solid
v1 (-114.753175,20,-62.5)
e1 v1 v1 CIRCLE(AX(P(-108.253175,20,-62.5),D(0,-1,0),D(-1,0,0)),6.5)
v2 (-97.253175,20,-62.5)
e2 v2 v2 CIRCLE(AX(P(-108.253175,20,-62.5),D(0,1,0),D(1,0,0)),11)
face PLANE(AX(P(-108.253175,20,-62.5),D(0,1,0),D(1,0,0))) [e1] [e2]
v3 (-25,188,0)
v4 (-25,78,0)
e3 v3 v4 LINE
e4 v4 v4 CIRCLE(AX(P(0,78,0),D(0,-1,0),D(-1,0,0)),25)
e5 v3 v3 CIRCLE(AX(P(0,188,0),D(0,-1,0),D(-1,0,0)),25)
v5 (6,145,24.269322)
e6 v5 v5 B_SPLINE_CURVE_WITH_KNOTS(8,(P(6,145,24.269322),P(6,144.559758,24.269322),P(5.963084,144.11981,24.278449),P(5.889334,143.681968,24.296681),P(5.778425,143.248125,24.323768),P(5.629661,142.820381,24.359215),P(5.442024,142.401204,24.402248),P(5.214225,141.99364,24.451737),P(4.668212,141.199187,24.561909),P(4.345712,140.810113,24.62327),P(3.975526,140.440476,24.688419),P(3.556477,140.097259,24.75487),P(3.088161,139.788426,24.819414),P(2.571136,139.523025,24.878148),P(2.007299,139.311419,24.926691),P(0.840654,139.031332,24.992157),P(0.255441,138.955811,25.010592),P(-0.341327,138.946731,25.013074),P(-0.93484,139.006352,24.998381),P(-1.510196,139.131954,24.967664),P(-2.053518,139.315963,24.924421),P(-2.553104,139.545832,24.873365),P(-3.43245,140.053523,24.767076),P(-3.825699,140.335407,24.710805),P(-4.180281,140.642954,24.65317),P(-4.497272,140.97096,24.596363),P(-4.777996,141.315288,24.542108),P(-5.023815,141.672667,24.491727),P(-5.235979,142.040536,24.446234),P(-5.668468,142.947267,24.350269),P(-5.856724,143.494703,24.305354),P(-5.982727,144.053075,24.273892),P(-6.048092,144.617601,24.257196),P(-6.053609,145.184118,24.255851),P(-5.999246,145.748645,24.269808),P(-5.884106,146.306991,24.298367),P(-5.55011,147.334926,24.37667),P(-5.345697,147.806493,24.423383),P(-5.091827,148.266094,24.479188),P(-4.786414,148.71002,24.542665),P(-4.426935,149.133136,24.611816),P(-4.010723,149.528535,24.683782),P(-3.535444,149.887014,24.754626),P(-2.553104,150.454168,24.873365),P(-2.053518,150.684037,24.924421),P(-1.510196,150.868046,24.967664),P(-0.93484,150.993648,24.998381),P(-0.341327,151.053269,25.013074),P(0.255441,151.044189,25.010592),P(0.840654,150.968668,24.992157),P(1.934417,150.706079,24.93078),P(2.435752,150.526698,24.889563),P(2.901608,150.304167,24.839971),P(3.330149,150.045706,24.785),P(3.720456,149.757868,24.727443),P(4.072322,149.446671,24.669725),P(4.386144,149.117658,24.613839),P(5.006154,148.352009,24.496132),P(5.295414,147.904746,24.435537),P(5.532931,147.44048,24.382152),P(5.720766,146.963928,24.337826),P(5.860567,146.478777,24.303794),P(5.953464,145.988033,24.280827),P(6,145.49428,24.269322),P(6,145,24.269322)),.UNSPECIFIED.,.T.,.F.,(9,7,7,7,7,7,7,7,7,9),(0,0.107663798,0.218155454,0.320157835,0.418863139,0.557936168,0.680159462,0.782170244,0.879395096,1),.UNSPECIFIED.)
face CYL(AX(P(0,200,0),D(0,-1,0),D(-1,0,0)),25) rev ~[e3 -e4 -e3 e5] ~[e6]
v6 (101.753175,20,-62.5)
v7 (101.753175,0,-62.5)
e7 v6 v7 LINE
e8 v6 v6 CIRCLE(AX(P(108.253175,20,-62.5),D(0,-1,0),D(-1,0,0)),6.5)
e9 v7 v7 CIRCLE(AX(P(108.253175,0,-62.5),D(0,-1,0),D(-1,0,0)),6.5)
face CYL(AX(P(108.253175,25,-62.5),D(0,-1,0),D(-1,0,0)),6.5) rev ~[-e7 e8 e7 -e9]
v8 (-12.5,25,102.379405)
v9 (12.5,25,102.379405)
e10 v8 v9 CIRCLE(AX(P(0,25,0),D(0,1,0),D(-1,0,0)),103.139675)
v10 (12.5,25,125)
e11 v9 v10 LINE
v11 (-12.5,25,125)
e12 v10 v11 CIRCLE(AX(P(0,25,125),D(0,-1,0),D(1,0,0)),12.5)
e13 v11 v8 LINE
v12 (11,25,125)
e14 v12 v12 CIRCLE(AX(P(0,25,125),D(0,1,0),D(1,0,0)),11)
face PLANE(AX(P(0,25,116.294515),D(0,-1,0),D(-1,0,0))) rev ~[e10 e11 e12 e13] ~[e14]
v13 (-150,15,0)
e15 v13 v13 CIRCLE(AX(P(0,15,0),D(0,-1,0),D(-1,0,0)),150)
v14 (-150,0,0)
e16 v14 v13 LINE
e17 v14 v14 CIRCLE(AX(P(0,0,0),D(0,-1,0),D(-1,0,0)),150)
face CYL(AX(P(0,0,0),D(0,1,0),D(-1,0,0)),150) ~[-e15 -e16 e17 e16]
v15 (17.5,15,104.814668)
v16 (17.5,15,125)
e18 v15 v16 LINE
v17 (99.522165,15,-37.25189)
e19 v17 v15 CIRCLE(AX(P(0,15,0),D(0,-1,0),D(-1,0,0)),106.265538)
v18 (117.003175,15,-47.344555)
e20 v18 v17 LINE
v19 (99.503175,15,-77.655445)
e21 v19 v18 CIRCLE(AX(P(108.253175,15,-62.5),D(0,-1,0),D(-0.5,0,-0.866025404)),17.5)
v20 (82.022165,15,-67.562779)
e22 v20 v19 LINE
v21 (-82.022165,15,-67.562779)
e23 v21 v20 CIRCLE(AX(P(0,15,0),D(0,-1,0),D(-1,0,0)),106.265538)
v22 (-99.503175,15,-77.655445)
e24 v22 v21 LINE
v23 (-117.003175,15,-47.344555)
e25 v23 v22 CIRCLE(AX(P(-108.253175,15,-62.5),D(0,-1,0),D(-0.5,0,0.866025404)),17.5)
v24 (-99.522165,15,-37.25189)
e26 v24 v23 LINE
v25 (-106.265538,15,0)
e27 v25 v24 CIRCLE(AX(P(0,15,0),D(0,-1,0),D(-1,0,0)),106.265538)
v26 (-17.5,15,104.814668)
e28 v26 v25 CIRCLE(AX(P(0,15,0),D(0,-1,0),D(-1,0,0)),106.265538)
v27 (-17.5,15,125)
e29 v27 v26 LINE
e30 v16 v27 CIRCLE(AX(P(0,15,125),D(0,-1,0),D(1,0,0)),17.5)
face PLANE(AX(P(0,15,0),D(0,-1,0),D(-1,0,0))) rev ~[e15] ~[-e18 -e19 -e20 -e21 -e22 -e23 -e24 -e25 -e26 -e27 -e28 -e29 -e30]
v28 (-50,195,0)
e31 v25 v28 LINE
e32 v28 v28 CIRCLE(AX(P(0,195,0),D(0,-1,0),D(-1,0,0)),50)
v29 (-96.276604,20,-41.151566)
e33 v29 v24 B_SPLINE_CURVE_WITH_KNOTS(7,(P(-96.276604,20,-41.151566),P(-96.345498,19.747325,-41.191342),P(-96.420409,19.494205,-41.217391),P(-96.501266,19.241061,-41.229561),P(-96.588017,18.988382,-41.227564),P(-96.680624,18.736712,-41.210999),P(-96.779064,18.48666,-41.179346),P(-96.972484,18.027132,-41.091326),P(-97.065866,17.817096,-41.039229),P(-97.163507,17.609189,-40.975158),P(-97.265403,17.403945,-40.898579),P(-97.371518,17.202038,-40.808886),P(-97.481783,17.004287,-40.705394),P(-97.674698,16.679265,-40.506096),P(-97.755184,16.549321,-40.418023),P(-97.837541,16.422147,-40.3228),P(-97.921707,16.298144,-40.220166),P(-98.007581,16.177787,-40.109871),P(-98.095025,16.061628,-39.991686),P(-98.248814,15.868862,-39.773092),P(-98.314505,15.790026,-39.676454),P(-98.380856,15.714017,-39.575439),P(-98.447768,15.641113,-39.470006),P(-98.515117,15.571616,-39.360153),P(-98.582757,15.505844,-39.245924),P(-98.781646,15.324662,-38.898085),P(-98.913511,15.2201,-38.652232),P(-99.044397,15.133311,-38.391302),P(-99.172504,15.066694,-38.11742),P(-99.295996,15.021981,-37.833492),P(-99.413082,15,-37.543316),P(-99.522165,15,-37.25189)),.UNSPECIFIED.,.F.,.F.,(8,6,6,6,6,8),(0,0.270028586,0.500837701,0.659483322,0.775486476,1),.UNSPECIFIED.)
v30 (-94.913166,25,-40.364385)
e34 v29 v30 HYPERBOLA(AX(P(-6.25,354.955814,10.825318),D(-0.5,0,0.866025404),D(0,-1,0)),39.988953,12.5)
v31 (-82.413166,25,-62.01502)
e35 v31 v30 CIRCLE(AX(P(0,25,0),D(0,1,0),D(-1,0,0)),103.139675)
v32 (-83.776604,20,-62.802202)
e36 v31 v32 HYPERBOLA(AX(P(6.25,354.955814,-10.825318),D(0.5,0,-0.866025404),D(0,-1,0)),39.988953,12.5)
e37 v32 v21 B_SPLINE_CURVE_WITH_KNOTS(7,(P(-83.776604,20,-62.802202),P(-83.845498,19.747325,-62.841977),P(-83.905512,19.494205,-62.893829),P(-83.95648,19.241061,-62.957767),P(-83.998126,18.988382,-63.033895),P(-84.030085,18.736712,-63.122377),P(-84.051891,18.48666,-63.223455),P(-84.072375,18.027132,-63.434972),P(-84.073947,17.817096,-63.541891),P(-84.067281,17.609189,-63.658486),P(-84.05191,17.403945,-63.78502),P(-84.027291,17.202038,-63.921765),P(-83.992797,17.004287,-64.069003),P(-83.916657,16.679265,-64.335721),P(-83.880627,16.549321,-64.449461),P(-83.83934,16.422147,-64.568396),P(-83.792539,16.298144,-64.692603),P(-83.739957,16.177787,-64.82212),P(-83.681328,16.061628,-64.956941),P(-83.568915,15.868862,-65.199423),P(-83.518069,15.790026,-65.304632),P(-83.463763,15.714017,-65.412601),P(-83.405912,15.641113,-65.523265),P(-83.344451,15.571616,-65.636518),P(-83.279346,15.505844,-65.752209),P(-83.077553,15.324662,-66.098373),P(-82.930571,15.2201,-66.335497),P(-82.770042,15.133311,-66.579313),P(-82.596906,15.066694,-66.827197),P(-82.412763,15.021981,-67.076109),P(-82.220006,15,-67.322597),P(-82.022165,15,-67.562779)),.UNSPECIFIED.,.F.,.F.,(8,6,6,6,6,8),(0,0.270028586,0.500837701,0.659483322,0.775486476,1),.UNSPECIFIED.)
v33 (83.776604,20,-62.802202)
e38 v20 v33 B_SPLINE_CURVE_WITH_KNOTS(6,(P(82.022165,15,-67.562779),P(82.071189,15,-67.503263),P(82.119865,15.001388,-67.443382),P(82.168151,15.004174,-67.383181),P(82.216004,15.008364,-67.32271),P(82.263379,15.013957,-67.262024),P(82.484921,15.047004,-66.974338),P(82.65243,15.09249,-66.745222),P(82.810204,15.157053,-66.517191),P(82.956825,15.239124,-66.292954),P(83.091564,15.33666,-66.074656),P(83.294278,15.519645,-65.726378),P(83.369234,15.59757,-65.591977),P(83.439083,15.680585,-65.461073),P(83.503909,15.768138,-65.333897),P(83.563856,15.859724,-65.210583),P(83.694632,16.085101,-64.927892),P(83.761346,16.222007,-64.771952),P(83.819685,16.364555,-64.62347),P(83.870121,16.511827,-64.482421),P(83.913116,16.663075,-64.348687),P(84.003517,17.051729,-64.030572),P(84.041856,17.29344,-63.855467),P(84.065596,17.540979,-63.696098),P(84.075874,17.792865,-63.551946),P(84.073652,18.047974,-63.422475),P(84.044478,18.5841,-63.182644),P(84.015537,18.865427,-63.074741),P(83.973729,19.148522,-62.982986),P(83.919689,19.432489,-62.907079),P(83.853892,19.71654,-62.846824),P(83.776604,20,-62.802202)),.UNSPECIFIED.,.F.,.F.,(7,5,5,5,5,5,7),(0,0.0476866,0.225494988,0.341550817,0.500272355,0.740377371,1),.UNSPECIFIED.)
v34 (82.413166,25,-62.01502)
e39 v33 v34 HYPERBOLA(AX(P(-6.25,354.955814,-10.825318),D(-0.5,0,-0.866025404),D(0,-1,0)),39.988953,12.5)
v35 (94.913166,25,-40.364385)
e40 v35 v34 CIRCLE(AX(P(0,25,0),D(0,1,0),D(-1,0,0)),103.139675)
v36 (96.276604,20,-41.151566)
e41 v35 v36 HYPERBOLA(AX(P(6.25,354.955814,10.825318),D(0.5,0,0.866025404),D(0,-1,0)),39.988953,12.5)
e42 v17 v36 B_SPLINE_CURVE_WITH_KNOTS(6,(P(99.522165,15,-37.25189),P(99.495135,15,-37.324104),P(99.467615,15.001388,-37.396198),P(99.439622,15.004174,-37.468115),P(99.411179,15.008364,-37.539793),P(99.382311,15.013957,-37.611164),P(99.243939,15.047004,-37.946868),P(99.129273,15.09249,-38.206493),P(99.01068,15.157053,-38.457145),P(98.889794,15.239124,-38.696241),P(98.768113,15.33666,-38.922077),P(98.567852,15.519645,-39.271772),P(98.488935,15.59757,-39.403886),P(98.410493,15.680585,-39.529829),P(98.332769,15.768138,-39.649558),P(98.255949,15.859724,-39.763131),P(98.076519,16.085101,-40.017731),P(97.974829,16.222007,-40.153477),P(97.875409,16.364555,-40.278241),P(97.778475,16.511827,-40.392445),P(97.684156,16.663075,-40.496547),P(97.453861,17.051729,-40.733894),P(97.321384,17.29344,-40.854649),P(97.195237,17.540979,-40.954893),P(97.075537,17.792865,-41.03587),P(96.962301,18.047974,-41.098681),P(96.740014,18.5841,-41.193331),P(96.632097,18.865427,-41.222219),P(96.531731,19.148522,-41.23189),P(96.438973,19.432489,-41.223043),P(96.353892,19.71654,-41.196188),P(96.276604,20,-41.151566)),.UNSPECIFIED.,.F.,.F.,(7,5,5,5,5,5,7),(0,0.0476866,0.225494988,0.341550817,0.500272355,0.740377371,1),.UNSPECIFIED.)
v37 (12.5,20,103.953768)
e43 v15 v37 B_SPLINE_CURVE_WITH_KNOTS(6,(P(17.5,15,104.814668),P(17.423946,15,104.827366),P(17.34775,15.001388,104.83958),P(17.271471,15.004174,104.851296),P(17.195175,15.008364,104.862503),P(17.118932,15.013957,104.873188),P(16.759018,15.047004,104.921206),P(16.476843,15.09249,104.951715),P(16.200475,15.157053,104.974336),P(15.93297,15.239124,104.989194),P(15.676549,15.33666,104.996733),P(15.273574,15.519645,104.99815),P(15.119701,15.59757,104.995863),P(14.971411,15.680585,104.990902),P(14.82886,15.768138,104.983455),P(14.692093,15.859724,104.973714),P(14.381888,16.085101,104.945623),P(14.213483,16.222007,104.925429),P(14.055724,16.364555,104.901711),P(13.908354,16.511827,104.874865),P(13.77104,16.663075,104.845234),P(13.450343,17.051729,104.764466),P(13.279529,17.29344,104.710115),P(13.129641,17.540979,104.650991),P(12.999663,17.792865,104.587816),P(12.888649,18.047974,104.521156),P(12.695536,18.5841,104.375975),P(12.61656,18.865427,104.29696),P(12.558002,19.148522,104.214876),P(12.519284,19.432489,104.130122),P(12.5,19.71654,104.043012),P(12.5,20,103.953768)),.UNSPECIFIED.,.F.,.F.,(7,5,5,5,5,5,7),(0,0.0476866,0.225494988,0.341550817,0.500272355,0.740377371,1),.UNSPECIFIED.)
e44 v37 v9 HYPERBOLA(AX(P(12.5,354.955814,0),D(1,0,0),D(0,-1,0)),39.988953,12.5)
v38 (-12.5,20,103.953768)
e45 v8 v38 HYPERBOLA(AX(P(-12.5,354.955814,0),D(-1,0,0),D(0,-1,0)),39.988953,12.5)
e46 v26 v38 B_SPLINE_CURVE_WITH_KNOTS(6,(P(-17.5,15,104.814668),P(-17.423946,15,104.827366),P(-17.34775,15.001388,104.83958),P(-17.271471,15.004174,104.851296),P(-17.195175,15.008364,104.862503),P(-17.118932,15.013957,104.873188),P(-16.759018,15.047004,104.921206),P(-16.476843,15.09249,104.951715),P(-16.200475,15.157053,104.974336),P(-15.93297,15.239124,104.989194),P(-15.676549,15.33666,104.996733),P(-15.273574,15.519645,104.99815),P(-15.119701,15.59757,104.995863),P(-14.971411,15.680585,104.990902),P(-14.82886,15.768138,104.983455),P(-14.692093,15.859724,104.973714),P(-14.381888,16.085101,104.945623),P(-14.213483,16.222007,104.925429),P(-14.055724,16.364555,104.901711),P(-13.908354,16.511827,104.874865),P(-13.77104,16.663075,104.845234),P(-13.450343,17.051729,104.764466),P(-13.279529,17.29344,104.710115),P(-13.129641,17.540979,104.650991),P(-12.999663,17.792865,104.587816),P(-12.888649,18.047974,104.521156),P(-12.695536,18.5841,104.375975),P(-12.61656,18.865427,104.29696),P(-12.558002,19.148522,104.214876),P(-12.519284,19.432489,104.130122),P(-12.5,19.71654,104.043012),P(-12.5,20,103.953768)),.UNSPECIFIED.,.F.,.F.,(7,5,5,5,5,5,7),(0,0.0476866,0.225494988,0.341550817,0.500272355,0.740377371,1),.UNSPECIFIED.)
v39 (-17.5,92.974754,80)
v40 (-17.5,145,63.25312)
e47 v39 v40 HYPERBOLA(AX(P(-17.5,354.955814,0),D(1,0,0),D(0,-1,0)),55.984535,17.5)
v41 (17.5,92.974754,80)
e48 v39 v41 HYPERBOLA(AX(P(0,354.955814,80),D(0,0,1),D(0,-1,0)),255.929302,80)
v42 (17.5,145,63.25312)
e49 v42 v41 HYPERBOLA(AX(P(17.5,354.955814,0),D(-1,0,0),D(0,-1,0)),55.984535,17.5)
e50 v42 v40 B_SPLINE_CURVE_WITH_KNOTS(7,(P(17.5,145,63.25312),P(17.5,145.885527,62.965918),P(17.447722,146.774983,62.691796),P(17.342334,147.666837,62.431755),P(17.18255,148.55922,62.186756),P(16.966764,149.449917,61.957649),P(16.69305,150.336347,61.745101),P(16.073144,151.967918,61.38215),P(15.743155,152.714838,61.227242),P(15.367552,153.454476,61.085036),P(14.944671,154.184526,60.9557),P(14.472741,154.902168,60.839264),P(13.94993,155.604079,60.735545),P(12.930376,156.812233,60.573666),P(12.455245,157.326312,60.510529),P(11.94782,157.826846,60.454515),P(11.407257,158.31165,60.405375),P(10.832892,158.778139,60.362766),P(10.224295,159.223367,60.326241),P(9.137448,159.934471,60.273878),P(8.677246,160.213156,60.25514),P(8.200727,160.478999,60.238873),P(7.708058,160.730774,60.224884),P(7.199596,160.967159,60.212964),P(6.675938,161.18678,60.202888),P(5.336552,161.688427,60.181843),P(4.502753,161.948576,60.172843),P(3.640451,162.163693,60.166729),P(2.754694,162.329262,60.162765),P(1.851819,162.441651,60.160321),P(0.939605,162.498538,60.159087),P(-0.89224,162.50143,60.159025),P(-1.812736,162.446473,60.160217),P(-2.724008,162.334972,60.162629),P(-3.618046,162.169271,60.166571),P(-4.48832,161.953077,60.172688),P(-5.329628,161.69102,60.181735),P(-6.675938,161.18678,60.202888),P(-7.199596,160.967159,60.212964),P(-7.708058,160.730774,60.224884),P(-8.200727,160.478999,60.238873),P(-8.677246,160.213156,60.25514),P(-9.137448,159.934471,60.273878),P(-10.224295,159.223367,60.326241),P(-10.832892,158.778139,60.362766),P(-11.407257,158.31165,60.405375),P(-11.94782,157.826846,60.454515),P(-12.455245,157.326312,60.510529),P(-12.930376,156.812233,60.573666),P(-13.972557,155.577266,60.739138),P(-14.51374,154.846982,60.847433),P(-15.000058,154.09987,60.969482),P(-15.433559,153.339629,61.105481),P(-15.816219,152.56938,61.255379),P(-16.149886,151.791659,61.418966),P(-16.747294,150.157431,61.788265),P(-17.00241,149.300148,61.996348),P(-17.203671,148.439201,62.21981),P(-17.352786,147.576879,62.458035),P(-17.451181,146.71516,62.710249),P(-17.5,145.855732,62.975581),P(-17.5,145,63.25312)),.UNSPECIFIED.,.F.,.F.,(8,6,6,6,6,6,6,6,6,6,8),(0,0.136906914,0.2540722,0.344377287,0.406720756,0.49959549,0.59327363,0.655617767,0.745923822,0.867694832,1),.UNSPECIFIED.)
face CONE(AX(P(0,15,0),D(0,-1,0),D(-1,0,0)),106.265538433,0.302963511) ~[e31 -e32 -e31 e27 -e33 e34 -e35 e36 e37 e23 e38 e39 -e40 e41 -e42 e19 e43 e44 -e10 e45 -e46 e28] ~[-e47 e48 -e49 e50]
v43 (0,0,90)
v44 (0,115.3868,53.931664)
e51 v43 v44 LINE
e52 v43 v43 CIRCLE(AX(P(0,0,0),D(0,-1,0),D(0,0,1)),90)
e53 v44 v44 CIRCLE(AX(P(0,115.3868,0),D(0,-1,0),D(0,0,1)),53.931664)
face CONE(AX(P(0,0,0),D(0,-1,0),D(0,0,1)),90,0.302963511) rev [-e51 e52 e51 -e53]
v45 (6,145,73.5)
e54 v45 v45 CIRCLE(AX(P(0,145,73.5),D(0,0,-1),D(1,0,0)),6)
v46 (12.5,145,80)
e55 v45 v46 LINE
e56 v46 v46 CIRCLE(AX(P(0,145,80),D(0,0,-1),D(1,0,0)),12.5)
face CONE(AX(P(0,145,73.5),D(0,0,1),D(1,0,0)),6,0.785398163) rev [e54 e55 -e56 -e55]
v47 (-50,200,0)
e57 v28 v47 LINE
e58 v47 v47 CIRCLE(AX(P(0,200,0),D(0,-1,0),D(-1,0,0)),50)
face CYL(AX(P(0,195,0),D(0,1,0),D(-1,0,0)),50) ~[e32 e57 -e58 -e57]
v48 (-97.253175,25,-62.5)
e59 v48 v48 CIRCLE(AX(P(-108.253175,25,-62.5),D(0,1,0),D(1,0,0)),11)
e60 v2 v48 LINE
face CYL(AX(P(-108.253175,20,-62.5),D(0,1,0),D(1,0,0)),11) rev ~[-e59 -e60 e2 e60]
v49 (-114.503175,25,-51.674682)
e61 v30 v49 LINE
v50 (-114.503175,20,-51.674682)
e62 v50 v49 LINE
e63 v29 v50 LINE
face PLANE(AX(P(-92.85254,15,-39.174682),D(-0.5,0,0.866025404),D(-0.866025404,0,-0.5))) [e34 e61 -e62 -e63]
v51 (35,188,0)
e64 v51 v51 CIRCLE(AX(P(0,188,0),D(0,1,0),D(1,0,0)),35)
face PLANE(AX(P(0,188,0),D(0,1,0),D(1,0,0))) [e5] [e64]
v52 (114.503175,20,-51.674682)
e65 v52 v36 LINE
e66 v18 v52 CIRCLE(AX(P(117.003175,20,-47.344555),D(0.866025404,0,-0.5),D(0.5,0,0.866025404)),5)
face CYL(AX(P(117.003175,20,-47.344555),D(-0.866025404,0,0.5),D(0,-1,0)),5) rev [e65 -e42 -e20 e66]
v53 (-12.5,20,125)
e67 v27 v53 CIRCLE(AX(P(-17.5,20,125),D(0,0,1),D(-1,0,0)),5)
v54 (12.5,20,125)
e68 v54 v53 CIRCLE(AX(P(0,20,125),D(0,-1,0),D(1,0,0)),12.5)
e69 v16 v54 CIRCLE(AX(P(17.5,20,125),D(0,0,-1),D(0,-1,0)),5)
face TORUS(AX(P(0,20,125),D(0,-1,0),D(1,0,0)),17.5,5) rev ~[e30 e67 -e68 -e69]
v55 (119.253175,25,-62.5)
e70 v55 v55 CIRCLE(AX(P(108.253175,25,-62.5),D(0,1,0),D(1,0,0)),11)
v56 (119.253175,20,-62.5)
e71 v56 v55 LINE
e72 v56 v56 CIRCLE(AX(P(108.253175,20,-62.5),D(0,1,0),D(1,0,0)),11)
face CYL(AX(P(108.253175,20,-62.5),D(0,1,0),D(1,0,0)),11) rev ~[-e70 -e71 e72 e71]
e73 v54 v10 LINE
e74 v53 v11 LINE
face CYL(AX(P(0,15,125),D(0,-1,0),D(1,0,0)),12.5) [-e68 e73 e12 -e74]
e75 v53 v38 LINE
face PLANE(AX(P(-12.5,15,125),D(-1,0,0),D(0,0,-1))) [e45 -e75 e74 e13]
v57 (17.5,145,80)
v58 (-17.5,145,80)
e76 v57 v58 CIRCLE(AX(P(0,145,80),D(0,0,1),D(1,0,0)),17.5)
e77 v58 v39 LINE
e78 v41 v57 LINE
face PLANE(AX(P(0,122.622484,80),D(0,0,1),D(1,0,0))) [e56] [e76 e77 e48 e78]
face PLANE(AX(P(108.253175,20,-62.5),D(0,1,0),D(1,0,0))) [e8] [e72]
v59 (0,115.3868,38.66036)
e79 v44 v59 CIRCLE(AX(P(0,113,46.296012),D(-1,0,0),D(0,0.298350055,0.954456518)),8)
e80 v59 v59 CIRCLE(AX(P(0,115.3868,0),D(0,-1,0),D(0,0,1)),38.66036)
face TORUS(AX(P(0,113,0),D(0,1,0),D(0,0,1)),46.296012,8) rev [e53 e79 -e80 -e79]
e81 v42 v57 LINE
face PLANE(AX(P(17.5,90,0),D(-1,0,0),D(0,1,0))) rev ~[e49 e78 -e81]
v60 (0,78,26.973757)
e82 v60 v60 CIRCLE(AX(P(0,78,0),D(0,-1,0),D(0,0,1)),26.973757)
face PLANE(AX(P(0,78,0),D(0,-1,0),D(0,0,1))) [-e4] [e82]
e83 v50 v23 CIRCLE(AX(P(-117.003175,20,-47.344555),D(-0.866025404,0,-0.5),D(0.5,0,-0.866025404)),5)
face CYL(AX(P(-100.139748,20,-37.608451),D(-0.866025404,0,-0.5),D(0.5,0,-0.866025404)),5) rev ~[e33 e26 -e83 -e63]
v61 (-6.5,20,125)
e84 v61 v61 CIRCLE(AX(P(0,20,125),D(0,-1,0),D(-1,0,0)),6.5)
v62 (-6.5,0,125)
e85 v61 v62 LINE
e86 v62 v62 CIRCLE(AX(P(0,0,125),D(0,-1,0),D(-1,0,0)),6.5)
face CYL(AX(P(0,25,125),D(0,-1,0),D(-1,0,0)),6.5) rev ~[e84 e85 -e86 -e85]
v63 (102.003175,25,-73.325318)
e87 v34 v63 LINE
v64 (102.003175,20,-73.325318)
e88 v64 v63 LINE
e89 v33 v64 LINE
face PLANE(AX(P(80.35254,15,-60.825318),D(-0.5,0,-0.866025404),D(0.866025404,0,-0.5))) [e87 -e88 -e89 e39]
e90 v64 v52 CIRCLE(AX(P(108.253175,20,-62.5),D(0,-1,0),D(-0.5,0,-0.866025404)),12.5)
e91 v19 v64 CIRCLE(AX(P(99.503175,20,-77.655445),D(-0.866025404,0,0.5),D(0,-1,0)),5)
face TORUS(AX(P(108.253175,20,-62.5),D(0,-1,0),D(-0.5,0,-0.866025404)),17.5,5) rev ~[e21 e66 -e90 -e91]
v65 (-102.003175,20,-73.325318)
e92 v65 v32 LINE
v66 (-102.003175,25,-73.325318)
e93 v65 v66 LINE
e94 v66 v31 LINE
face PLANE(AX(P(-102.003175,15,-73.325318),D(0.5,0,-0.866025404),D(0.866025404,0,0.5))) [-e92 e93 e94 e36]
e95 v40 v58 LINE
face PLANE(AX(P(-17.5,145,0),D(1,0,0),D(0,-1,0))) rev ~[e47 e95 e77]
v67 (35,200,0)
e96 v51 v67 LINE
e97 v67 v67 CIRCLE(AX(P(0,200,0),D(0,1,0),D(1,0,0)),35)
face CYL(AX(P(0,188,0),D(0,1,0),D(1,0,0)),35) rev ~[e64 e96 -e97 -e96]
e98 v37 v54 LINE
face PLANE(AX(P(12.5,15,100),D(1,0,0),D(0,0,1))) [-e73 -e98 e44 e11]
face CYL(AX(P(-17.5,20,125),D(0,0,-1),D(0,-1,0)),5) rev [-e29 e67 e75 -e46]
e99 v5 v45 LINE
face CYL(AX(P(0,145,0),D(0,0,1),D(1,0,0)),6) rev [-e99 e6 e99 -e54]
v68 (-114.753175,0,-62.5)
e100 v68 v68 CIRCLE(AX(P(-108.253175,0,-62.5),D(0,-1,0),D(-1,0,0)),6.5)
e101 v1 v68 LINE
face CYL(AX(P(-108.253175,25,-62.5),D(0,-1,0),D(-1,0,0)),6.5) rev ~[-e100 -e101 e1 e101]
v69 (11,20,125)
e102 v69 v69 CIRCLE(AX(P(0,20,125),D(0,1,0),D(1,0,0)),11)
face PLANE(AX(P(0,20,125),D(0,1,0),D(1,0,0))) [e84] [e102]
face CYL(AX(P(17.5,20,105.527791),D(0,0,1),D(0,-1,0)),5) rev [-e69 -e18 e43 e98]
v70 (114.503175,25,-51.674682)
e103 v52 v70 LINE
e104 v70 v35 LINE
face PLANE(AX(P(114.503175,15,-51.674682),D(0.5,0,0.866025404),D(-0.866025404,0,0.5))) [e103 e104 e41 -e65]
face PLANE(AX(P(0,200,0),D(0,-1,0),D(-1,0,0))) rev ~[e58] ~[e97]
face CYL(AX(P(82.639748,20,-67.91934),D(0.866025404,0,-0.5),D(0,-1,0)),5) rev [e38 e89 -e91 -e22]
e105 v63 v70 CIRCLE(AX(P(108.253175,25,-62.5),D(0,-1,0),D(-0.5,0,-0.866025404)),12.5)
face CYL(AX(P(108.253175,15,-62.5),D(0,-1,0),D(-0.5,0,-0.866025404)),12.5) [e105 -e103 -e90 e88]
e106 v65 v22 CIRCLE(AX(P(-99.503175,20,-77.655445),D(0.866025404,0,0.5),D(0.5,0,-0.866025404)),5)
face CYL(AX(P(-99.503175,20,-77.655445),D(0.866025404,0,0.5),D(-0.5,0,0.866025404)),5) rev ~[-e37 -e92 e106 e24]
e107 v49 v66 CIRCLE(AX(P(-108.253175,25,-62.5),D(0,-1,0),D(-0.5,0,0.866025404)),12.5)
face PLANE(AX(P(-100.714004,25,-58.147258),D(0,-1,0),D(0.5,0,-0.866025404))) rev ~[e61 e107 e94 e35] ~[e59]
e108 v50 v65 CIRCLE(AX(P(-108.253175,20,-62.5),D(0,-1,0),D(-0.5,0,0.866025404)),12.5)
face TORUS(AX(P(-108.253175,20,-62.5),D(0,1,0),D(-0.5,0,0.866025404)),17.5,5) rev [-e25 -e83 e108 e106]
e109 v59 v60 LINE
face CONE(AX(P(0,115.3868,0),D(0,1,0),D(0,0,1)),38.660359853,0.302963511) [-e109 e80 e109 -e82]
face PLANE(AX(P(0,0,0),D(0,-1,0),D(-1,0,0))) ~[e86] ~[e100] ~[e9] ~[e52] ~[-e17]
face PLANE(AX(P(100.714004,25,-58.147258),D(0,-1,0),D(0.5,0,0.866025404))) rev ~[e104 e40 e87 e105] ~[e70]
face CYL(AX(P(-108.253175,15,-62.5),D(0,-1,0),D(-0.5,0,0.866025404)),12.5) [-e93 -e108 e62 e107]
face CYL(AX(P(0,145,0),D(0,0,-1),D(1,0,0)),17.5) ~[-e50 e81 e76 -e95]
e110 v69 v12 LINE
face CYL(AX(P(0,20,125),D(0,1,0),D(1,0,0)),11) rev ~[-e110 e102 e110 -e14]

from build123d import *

# Parameters (mm, degrees)
BOSS_EXTRUDE1_DEPTH = 80
HOLE1_D             = 50
HOLE1_CBORE_D       = 70
HOLE1_CBORE_DEPTH   = 12
BOSS_EXTRUDE2_DEPTH = 10
CIRPATTERN1_COUNT   = 3
FILLET1_R           = 5
HOLE2_D             = 13
HOLE2_CBORE_D       = 22
HOLE2_CBORE_DEPTH   = 5


with BuildPart() as part:
    # Sketch1 → Revolve1 (revolve)
    with BuildSketch(Plane.XY):
        Polygon((-150, 0), (-150, 15), (-106.265538433, 15), (-50, 195), (-50, 200), (0, 200), (0, 0), align=None)
    revolve(axis=Axis((0, 200, 0), (0, -1, 0)))

    # Sketch2 → Boss-Extrude1 (add)
    with BuildSketch(Plane.XY):
        with BuildLine():
            Line((-17.5, 145), (-17.5, 90))
            Line((-17.5, 90), (17.5, 90))
            Line((17.5, 90), (17.5, 145))
            ThreePointArc((17.5, 145), (0, 162.5), (-17.5, 145))
        make_face()
    extrude(amount=BOSS_EXTRUDE1_DEPTH)

    # Sketch4 → Cut-Revolve1 (revolve, cut)
    with BuildSketch(Plane(origin=(0, 0, 0), x_dir=(0, 0, -1), z_dir=(1, 0, 0)), mode=Mode.PRIVATE) as cut_revolve1_sk:
        Polygon((0, 151), (-73.5, 151), (-80, 157.5), (-80, 145), (0, 145), align=None)
    revolve(cut_revolve1_sk.sketch.rotate(Axis((0, 145, 80), (0, 0, -1)), 90), axis=Axis((0, 145, 80), (0, 0, -1)), mode=Mode.SUBTRACT)

    # Hole1 (through all)
    with Locations(Plane(origin=(0, 200, 0), x_dir=(1, 0, 0), z_dir=(0, 1, 0))):
        with Locations((0, 0)):
            CounterBoreHole(HOLE1_D / 2, HOLE1_CBORE_D / 2, HOLE1_CBORE_DEPTH)

    # Sketch7 → Cut-Revolve2 (revolve, cut)
    with BuildSketch(Plane(origin=(0, 0, 0), x_dir=(0, 0, -1), z_dir=(1, 0, 0)), mode=Mode.PRIVATE) as cut_revolve2_sk:
        with BuildLine():
            Line((0, 0), (90, 0))
            Line((90, 0), (53.93166414, 115.38680044))
            ThreePointArc((53.93166414, 115.38680044), (46.296011996, 121), (38.660359853, 115.38680044))
            Line((38.660359853, 115.38680044), (26.973757314, 78))
            Line((26.973757314, 78), (0, 78))
            Line((0, 78), (0, 0))
        make_face()
    revolve(cut_revolve2_sk.sketch.rotate(Axis((0, 78, 0), (0, -1, 0)), 180), axis=Axis((0, 78, 0), (0, -1, 0)), mode=Mode.SUBTRACT)

    # Sketch10 → Boss-Extrude2 (add)
    with BuildSketch(Plane(origin=(0, 15, 0), x_dir=(1, 0, 0), z_dir=(0, 1, 0))):
        with BuildLine():
            Line((-12.5, -125), (-12.5, -100))
            Line((-12.5, -100), (12.5, -100))
            Line((12.5, -100), (12.5, -125))
            ThreePointArc((12.5, -125), (0, -137.5), (-12.5, -125))
        make_face()
    boss_extrude2 = extrude(amount=BOSS_EXTRUDE2_DEPTH)

    # CirPattern1: Boss-Extrude2 ×3 about axis
    cirpattern1_axis = Axis((0, 0, 0), (0, 1, 0))
    for i in range(1, CIRPATTERN1_COUNT):
        add(boss_extrude2.rotate(cirpattern1_axis, i * 360 / CIRPATTERN1_COUNT))

    # Fillet1
    fillet1_edges = [part.edges().sort_by_distance(p)[0] for p in [
        (93.571461612, 15, -68.45726528),
        (119.07849302, 15, -68.75),
        (12.5, 15, 115.263895465),
        (0, 15, 137.5),
        (-93.571461612, 15, -68.45726528),
        (-119.07849302, 15, -68.75),
        (106.071461612, 15, -46.806630185),
        (-12.5, 15, 115.263895465),
        (-106.071461612, 15, -46.806630185),
    ]]
    fillet(fillet1_edges, radius=FILLET1_R)

    # Hole2 (through all)
    with Locations(Plane(origin=(0, 25, 0), x_dir=(1, 0, 0), z_dir=(0, 1, 0))):
        with Locations((108.253175473, 62.5), (-108.253175473, 62.5), (0, -125)):
            CounterBoreHole(HOLE2_D / 2, HOLE2_CBORE_D / 2, HOLE2_CBORE_DEPTH)


solid = part.part
